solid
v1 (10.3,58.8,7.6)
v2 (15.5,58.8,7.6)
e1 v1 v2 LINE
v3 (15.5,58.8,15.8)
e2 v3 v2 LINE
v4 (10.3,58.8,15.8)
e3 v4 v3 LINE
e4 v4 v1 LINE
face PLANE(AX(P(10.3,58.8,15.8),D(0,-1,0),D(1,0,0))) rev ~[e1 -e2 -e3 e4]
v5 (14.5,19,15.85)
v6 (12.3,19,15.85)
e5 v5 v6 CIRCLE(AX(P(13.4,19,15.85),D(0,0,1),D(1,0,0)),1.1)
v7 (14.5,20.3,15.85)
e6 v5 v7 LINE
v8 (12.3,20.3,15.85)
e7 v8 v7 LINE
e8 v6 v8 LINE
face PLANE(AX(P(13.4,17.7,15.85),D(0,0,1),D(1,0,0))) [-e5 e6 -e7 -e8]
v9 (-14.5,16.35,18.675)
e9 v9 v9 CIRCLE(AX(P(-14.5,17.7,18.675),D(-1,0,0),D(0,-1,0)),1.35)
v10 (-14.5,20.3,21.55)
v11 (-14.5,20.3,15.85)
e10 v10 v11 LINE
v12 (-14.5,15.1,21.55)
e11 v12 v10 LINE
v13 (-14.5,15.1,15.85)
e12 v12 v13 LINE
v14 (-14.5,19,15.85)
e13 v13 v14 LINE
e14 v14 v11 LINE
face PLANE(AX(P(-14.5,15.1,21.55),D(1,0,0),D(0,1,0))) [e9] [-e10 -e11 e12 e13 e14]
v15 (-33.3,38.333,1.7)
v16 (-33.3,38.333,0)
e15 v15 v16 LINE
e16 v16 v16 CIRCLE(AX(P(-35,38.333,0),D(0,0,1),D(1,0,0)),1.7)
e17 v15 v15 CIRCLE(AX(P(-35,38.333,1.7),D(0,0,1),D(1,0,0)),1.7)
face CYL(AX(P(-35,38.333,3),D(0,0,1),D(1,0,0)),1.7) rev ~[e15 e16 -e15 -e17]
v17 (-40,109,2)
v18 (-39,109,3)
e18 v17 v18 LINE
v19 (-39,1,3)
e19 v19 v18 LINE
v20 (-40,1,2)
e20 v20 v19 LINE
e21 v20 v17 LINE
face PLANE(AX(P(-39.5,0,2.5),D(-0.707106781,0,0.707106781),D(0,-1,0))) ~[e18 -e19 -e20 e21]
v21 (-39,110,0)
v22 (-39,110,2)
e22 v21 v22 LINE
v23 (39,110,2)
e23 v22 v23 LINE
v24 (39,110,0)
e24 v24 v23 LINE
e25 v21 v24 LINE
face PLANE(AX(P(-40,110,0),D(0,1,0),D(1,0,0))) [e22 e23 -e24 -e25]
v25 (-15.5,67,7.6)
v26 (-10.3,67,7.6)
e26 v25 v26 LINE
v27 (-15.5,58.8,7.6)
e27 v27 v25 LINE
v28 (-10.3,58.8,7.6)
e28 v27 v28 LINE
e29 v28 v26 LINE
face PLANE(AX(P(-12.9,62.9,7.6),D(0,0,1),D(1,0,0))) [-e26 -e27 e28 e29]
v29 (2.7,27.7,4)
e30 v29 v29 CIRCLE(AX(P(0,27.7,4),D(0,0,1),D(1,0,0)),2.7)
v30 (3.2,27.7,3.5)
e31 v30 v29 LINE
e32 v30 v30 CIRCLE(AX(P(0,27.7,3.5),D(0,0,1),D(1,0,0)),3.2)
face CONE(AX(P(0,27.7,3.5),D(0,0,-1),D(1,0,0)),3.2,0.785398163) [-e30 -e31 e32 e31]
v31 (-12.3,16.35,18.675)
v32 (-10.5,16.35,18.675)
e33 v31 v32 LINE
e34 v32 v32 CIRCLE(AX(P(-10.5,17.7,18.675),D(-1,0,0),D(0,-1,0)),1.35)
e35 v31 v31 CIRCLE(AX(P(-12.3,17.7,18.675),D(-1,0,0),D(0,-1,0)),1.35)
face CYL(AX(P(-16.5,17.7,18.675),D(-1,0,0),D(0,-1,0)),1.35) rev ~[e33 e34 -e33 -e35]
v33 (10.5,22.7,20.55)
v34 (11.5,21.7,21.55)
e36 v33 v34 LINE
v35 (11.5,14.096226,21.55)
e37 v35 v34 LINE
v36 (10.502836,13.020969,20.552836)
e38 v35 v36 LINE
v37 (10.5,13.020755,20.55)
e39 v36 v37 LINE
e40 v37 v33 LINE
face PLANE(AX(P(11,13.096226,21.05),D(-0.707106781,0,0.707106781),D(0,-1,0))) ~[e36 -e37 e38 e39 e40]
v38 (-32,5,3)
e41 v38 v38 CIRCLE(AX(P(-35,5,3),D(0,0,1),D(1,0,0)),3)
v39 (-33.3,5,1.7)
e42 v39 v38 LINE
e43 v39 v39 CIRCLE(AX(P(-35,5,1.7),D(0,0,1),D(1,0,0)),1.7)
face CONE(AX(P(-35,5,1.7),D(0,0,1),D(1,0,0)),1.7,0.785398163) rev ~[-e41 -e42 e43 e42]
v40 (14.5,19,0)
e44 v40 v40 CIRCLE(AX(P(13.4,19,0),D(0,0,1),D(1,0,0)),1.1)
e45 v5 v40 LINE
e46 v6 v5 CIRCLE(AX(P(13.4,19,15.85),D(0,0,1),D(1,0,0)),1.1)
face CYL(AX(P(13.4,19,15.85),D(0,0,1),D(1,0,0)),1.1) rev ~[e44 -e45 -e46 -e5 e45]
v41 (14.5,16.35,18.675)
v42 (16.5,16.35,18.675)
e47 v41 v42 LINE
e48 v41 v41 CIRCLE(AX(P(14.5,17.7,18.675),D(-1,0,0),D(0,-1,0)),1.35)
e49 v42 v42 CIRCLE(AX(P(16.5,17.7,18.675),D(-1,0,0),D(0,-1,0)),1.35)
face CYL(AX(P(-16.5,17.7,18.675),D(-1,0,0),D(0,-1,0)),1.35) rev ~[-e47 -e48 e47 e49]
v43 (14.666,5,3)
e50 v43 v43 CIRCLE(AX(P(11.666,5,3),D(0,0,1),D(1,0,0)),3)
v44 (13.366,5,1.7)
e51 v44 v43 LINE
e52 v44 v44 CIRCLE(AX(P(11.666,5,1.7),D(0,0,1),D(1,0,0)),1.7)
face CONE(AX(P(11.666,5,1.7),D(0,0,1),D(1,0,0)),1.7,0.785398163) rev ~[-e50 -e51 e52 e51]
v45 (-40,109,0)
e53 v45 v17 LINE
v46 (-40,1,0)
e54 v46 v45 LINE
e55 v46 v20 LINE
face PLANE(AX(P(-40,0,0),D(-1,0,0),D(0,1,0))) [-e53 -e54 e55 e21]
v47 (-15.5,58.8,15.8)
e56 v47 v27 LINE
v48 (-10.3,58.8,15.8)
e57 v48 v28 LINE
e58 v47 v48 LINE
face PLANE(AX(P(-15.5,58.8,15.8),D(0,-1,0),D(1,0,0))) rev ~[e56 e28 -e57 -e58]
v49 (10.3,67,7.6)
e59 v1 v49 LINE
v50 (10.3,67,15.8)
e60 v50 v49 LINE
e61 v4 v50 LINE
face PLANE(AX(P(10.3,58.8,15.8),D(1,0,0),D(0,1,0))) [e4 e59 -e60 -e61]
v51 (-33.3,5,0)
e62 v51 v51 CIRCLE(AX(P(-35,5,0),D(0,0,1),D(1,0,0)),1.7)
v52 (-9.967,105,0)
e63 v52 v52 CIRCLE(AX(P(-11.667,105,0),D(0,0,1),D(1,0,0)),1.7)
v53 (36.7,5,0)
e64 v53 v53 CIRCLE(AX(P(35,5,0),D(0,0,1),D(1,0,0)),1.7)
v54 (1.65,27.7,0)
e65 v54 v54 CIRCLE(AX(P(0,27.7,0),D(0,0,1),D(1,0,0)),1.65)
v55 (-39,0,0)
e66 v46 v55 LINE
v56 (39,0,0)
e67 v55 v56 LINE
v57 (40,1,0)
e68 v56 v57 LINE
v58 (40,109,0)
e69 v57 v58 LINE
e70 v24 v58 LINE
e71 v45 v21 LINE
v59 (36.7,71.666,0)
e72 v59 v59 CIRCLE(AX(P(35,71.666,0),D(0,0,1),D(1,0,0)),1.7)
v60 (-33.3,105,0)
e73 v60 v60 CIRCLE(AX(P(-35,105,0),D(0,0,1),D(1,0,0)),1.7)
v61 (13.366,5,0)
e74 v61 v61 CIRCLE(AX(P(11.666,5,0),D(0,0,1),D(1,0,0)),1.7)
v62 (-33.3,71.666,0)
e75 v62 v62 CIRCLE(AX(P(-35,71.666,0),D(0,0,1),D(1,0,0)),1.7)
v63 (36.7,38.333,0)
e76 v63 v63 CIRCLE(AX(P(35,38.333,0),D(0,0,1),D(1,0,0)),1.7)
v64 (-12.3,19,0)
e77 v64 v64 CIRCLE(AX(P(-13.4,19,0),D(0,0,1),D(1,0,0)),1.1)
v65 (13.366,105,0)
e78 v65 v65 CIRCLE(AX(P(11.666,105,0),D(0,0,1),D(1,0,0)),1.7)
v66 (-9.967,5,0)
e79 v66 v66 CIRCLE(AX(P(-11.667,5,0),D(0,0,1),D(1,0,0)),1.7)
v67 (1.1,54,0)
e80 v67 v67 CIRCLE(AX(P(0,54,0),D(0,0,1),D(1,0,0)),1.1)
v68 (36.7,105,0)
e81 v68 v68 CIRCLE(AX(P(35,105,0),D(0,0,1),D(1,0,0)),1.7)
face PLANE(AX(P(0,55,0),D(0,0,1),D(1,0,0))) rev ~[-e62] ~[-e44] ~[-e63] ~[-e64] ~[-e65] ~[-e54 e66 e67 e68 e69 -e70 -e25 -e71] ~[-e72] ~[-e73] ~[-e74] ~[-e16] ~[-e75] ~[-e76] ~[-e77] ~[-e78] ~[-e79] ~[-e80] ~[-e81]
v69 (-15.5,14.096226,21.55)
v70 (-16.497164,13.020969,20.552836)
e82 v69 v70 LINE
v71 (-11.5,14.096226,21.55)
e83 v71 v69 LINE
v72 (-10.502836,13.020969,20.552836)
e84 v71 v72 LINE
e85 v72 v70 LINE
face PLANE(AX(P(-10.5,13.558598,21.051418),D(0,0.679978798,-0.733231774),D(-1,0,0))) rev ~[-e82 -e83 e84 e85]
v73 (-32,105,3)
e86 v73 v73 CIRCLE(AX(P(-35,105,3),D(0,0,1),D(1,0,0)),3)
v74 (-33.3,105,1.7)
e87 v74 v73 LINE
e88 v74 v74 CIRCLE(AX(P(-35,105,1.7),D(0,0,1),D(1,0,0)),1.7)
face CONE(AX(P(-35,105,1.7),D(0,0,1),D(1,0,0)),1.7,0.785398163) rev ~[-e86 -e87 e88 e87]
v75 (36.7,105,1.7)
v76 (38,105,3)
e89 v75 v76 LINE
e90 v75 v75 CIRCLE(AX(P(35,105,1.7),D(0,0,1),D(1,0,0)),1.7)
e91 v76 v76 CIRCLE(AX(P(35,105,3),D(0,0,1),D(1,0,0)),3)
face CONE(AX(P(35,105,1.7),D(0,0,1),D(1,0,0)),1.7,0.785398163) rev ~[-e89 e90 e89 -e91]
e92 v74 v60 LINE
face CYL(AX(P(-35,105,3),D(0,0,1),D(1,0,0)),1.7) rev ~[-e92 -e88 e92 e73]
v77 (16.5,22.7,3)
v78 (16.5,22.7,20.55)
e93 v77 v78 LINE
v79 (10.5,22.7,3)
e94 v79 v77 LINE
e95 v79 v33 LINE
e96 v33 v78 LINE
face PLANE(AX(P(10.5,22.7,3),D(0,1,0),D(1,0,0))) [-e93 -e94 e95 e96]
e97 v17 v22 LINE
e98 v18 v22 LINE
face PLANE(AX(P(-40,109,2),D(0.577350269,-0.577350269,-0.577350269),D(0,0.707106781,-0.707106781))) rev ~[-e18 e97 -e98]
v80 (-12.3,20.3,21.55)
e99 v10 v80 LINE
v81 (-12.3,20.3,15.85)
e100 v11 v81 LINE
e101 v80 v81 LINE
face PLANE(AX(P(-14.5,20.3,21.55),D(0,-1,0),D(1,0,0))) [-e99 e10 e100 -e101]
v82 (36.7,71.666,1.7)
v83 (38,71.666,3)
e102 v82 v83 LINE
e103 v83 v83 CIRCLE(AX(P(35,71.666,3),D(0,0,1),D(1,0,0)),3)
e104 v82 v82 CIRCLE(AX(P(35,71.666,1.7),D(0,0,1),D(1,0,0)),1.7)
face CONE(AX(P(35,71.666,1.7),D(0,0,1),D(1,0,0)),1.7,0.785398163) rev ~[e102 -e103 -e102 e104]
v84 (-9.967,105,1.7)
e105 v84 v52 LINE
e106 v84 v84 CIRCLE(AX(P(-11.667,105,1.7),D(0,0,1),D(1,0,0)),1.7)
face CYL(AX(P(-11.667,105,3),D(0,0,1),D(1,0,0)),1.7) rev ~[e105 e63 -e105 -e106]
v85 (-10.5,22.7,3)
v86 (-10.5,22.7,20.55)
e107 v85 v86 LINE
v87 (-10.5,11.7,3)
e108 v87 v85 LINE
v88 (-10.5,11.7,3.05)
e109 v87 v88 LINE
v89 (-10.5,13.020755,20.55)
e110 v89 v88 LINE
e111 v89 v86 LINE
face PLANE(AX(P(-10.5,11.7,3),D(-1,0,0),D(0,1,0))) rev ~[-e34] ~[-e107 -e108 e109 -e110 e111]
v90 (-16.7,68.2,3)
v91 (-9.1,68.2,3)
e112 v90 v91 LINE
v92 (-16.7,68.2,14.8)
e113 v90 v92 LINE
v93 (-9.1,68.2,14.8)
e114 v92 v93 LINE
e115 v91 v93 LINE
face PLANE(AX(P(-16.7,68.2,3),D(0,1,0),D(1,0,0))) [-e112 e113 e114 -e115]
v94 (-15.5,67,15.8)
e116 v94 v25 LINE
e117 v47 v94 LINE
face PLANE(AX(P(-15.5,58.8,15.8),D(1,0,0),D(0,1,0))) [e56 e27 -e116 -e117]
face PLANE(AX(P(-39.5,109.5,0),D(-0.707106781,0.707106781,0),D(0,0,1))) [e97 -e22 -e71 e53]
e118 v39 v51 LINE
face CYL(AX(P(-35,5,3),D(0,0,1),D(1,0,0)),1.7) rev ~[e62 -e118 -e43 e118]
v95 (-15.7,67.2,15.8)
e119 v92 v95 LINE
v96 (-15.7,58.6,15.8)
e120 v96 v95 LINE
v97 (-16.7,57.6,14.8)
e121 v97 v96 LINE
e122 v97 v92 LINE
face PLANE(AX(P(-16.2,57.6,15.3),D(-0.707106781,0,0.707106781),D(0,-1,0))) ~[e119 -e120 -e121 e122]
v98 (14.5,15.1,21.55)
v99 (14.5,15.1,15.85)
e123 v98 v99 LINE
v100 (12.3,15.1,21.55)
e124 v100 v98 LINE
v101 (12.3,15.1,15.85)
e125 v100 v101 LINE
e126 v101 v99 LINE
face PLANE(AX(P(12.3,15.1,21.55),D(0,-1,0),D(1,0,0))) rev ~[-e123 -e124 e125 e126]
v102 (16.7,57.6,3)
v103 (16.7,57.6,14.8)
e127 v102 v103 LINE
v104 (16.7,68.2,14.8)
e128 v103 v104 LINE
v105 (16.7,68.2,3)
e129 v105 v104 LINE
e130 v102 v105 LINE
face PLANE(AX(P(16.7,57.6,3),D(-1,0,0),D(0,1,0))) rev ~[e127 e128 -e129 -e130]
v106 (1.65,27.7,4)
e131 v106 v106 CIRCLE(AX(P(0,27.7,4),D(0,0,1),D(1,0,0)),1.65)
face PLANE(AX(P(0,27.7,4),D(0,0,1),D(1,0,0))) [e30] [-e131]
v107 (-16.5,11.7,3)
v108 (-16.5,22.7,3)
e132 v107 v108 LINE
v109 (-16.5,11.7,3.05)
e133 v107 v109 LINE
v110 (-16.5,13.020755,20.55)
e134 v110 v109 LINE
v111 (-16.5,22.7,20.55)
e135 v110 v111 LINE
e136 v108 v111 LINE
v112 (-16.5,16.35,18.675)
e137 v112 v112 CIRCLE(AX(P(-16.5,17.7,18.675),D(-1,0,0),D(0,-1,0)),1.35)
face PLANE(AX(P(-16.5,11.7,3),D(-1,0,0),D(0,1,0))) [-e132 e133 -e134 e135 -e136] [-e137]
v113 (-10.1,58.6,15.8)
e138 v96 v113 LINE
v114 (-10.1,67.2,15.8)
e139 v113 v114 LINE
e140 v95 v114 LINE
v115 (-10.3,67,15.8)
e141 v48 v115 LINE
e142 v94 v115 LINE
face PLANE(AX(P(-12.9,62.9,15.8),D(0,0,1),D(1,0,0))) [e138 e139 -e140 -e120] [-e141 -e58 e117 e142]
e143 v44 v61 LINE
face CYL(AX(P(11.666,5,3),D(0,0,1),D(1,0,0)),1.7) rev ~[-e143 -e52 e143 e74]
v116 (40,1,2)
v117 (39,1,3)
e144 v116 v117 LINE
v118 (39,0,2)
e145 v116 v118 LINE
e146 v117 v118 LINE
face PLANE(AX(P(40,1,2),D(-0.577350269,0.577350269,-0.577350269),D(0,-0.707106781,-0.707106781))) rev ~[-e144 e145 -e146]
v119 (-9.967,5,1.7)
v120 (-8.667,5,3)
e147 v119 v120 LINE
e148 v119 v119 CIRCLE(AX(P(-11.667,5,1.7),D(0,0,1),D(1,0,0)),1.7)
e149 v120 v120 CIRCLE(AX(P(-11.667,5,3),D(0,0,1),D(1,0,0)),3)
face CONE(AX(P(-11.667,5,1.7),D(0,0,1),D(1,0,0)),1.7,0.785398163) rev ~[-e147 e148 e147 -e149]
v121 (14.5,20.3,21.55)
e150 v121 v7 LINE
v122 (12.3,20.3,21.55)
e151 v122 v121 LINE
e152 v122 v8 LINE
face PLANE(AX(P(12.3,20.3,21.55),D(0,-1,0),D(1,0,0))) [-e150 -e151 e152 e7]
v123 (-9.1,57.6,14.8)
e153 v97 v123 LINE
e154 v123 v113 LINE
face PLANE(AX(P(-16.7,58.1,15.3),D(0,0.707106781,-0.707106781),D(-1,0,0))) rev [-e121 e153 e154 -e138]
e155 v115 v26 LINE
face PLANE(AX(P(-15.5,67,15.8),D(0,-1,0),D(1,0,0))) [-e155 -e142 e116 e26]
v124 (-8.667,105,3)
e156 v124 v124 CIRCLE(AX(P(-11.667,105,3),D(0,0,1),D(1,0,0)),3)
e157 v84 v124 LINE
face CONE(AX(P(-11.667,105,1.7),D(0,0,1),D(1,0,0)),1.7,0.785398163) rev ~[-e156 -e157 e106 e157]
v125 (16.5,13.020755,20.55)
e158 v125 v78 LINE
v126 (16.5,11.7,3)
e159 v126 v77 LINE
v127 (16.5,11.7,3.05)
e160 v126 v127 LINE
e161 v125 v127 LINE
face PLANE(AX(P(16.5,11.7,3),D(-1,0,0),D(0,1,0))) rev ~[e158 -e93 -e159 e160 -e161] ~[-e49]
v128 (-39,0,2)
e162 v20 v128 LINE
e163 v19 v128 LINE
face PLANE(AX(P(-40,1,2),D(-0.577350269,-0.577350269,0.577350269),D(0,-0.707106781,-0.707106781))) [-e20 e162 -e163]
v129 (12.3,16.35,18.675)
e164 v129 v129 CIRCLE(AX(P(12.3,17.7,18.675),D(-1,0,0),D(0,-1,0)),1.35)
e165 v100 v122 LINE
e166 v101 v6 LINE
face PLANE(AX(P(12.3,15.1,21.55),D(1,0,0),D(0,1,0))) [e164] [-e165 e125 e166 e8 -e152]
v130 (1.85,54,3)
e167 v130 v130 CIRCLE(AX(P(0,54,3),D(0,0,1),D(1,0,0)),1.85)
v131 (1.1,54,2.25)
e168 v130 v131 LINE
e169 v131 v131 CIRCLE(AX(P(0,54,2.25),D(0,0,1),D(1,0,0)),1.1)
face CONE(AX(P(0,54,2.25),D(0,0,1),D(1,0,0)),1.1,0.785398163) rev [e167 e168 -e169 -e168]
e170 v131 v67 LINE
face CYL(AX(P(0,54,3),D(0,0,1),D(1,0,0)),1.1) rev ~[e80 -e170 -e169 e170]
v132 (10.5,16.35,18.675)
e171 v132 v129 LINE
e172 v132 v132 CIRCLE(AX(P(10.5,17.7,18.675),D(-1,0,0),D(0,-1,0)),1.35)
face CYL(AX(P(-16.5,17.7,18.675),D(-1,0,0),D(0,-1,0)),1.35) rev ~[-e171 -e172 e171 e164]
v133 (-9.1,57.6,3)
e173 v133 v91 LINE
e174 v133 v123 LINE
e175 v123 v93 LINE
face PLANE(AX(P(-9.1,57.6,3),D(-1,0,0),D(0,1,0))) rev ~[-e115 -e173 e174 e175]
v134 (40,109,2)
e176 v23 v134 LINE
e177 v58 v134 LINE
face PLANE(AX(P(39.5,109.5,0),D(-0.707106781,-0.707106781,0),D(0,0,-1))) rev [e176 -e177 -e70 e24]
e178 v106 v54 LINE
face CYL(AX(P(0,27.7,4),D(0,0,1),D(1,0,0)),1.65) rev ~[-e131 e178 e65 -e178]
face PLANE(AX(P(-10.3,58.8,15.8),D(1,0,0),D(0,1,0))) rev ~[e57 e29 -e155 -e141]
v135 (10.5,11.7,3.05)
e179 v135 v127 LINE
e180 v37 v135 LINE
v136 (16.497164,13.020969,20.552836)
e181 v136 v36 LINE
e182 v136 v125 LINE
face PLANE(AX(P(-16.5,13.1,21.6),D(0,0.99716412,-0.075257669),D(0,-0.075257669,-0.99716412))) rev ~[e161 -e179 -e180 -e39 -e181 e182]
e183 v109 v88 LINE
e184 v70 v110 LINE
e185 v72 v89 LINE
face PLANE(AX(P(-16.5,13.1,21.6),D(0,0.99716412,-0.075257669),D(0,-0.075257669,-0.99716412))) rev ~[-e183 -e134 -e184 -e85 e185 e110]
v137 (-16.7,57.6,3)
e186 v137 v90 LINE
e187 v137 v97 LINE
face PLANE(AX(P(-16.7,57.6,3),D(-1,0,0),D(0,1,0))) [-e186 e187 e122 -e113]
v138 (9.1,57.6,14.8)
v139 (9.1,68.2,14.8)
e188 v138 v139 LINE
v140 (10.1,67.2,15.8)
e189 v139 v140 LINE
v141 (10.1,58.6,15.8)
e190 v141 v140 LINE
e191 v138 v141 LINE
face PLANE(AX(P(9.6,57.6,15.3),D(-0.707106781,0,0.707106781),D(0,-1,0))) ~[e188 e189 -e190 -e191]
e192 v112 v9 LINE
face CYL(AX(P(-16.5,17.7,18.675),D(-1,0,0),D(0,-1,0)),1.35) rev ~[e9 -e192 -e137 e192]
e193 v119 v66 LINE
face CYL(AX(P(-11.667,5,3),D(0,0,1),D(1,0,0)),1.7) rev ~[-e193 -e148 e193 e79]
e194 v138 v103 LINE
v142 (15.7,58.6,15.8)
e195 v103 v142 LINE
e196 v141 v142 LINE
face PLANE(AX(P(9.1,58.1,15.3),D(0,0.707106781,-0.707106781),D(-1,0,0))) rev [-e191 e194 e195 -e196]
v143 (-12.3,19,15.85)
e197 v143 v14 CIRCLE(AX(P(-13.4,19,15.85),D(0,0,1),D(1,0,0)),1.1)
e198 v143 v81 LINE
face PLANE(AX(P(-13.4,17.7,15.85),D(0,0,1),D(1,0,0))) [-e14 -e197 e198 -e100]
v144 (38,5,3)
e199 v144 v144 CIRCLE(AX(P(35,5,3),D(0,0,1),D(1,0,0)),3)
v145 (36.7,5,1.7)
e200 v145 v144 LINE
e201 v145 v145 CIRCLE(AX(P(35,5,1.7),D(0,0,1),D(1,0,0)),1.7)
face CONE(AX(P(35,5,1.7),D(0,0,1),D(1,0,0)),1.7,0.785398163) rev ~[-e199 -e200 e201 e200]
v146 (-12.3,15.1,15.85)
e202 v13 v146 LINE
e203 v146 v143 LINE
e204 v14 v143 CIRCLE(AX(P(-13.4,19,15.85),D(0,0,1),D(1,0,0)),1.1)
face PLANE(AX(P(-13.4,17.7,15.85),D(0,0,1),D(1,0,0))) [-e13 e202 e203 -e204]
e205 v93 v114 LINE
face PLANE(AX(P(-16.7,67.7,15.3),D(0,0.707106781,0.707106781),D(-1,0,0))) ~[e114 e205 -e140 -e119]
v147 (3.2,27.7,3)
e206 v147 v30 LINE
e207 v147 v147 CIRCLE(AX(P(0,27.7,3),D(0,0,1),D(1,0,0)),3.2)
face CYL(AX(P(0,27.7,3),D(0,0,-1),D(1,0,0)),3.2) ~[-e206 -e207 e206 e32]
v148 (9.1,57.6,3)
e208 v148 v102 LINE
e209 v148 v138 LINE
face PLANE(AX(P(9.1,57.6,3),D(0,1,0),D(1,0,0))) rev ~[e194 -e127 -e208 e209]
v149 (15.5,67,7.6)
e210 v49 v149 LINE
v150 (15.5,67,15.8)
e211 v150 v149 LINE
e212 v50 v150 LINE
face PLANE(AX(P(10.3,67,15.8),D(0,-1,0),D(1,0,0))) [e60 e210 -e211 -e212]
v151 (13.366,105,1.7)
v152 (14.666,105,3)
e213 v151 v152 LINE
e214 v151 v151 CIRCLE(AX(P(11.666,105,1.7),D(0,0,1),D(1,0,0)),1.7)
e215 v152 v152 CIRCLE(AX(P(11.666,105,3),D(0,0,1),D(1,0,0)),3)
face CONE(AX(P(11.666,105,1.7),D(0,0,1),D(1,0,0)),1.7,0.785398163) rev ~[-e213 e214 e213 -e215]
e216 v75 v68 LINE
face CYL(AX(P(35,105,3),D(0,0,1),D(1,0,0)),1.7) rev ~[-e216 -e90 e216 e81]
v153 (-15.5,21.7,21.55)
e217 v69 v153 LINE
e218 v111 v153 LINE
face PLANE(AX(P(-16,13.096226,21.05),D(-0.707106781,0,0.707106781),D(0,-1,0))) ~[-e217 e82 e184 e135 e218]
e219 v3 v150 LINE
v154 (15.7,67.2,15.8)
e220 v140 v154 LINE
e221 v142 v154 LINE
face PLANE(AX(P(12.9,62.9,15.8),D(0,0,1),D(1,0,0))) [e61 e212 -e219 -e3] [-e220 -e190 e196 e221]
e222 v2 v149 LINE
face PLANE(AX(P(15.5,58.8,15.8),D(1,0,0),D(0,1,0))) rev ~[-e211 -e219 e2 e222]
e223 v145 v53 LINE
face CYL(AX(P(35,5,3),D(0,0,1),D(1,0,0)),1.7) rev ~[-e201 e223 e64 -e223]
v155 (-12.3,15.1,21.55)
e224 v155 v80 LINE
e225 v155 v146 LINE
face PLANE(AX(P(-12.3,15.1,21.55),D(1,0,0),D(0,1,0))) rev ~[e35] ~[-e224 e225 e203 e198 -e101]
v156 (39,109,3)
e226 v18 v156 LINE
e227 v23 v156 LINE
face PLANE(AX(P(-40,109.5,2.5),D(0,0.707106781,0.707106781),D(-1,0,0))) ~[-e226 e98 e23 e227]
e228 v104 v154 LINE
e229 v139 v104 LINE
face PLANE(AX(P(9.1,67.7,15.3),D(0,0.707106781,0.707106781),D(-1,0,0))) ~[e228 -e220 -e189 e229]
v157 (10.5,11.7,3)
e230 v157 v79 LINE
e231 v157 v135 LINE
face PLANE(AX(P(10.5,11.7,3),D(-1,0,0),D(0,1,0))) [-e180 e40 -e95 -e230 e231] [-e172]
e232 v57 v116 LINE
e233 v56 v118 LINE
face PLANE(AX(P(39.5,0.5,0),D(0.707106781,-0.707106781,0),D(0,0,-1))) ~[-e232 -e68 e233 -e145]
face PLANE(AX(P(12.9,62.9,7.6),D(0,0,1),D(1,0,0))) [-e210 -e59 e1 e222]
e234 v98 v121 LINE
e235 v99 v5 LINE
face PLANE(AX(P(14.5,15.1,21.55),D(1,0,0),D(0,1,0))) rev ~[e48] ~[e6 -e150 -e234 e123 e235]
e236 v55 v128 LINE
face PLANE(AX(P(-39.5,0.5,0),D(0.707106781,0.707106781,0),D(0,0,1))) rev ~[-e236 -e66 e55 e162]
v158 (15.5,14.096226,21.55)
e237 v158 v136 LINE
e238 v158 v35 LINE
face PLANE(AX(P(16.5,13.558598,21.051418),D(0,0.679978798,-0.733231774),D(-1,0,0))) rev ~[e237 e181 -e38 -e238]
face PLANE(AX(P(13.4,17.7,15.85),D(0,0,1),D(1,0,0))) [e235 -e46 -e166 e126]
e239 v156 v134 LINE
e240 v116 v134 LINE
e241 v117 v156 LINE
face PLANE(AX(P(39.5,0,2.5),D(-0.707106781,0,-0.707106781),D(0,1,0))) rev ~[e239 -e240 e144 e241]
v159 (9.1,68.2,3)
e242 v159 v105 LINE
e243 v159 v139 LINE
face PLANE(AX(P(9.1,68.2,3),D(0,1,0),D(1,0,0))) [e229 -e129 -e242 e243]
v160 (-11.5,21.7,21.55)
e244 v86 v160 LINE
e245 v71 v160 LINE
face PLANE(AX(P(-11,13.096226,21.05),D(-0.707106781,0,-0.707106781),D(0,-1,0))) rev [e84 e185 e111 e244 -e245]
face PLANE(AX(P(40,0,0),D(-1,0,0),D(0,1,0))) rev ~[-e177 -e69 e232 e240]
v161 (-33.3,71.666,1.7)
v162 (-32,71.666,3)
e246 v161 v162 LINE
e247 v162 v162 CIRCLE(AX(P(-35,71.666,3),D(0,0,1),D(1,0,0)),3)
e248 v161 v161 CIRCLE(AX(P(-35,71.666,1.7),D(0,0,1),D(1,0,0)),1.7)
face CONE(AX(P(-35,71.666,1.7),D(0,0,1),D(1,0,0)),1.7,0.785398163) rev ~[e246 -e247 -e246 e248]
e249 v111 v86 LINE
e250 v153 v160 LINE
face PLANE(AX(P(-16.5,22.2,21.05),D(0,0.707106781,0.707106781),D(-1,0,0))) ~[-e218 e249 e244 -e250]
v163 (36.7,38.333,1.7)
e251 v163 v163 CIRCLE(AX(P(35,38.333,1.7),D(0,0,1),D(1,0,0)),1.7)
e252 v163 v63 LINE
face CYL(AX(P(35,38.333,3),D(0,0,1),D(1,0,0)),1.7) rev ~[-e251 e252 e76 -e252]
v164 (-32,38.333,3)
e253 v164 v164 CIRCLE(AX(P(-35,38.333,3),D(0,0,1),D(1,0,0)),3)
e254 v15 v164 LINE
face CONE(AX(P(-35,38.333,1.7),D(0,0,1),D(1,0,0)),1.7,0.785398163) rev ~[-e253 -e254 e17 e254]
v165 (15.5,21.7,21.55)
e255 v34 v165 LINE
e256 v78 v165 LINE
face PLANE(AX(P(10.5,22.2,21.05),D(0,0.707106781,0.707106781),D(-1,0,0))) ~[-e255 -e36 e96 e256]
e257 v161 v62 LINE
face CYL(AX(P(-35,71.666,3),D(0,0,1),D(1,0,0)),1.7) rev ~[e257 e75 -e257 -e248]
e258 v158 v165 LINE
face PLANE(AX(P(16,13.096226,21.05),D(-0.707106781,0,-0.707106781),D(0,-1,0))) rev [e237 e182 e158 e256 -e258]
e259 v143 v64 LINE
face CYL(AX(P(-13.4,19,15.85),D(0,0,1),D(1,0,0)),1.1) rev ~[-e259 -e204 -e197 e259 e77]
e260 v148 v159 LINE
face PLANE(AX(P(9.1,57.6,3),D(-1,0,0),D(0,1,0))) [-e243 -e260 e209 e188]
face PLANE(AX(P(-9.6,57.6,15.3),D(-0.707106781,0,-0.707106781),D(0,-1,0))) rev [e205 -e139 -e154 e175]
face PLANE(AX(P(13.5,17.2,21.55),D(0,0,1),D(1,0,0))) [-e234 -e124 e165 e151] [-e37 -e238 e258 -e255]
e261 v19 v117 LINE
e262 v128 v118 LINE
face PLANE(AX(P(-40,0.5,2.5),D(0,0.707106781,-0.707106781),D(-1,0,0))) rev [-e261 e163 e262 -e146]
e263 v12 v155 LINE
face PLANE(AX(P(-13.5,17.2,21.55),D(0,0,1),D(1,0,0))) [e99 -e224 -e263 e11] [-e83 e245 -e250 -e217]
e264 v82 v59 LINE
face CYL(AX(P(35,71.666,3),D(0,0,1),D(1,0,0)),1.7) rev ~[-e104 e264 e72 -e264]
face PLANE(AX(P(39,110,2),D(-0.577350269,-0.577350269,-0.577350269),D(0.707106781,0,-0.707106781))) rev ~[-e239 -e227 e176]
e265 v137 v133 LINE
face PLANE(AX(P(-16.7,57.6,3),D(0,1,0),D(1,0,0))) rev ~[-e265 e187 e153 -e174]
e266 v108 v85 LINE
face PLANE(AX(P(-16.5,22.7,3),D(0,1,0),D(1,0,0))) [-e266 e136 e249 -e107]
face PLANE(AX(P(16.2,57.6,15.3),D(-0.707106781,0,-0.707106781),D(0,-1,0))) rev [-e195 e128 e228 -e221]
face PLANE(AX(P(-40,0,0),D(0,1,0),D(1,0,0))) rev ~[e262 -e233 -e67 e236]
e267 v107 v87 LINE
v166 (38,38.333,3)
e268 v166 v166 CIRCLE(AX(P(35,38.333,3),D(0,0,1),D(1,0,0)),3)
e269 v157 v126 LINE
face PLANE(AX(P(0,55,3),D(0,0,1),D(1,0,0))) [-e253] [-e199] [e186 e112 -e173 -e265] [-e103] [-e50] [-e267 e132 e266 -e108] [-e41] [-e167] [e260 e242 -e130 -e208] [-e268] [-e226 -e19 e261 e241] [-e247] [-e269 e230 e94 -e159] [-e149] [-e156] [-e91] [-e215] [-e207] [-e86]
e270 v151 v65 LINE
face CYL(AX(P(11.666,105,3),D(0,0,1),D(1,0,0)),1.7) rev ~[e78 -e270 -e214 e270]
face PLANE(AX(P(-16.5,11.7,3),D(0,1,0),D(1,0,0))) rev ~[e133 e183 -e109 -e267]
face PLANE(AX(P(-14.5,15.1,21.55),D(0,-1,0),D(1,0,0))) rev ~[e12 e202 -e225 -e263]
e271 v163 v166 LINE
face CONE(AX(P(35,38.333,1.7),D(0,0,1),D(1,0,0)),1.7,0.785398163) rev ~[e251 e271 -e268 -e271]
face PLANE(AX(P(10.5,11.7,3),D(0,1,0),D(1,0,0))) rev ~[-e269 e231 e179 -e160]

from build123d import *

# Parameters (mm, degrees)
SKETCH014_W     = 80
SKETCH014_H     = 110
PAD004_DEPTH    = 3
SKETCH015_R     = 3.2
PAD005_DEPTH    = 1
SKETCH016_R     = 1.65
POCKET010_DEPTH = 4.001
SKETCH017_W     = 7.6
SKETCH017_H     = 10.6
PAD006_DEPTH    = 12.8
SKETCH018_W     = 5.2
SKETCH018_H     = 8.2
POCKET011_DEPTH = 8.2
SKETCH019_R     = 1.1
SKETCH019_R_2   = 1.7
POCKET012_DEPTH = 3.001
SKETCH020_W     = 6
SKETCH020_H     = 11
PAD007_DEPTH    = 18.55
SKETCH021_R     = 1.35
POCKET013_DEPTH = 56.501
SKETCH022_W     = 2.2
SKETCH022_H     = 5.2
POCKET014_DEPTH = 5.7
SKETCH023_R     = 1.1
POCKET015_DEPTH = 15.851
CHAMFER_SIZE    = 1
CHAMFER001_SIZE = 1.3
CHAMFER002_SIZE = 1
CHAMFER003_SIZE = 0.75
CHAMFER004_SIZE = 0.5


with BuildPart() as part:
    # Sketch014 → Pad004 (new body)
    with BuildSketch(Plane.XY):
        with Locations((0, 55)):
            Rectangle(SKETCH014_W, SKETCH014_H)
    extrude(amount=PAD004_DEPTH)

    # Sketch015 (on Face6 of Pad004) → Pad005 (join)
    with BuildSketch(Plane.XY.offset(3)):
        with Locations((0, 27.7)):
            Circle(SKETCH015_R)
    extrude(amount=PAD005_DEPTH)

    # Sketch016 (on Face8 of Pad005) → Pocket010 (cut, through all)
    with BuildSketch(Plane.XY.offset(4)):
        with Locations((0, 27.7)):
            Circle(SKETCH016_R)
    extrude(amount=-POCKET010_DEPTH, mode=Mode.SUBTRACT)

    # Sketch017 (on Face5 of Pocket010) → Pad006 (join)
    with BuildSketch(Plane.XY.offset(3)):
        with Locations((-12.9, 62.9)):
            Rectangle(SKETCH017_W, SKETCH017_H)
        with Locations((12.9, 62.9)):
            Rectangle(SKETCH017_W, SKETCH017_H)
    extrude(amount=PAD006_DEPTH)

    # Sketch018 (on Face18 of Pad006) → Pocket011 (cut)
    with BuildSketch(Plane.XY.offset(15.8)):
        with Locations((-12.9, 62.9)):
            Rectangle(SKETCH018_W, SKETCH018_H)
        with Locations((12.9, 62.9)):
            Rectangle(SKETCH018_W, SKETCH018_H)
    extrude(amount=-POCKET011_DEPTH, mode=Mode.SUBTRACT)

    # Sketch019 (on Face5 of Pocket011) → Pocket012 (cut, through all)
    with BuildSketch(Plane.XY.offset(3)):
        with Locations((0, 54)):
            Circle(SKETCH019_R)
        with Locations((-11.667, 5)):
            Circle(SKETCH019_R_2)
        with Locations((11.666, 5)):
            Circle(SKETCH019_R_2)
        with Locations((35, 5)):
            Circle(SKETCH019_R_2)
        with Locations((-35, 38.333)):
            Circle(SKETCH019_R_2)
        with Locations((-35, 71.666)):
            Circle(SKETCH019_R_2)
        with Locations((-35, 105)):
            Circle(SKETCH019_R_2)
        with Locations((35, 38.333)):
            Circle(SKETCH019_R_2)
        with Locations((35, 71.666)):
            Circle(SKETCH019_R_2)
        with Locations((35, 105)):
            Circle(SKETCH019_R_2)
        with Locations((-11.667, 105)):
            Circle(SKETCH019_R_2)
        with Locations((11.666, 105)):
            Circle(SKETCH019_R_2)
        with Locations((-35, 5)):
            Circle(SKETCH019_R_2)
    extrude(amount=-POCKET012_DEPTH, mode=Mode.SUBTRACT)

    # Sketch020 (on Face5 of Pocket012) → Pad007 (join)
    with BuildSketch(Plane.XY.offset(3)):
        with Locations((13.5, 17.2)):
            Rectangle(SKETCH020_W, SKETCH020_H)
        with Locations((-13.5, 17.2)):
            Rectangle(SKETCH020_W, SKETCH020_H)
    extrude(amount=PAD007_DEPTH)

    # Sketch021 (on Face22 of Pad007) → Pocket013 (cut, through all)
    with BuildSketch(Plane(origin=(-16.5, 0, 0), x_dir=(0, -1, 0), z_dir=(-1, 0, 0))):
        with Locations((-17.7, 18.675)):
            Circle(SKETCH021_R)
        Polygon((-11.7, 3.05), (-11.7, 21.6), (-13.1, 21.6), align=None)
    extrude(amount=-POCKET013_DEPTH, mode=Mode.SUBTRACT)

    # Sketch022 (on Face39 of Pocket013) → Pocket014 (cut)
    with BuildSketch(Plane.XY.offset(21.55)):
        with Locations((-13.4, 17.7)):
            Rectangle(SKETCH022_W, SKETCH022_H)
        with Locations((13.4, 17.7)):
            Rectangle(SKETCH022_W, SKETCH022_H)
    extrude(amount=-POCKET014_DEPTH, mode=Mode.SUBTRACT)

    # Sketch023 (on Face65 of Pocket014) → Pocket015 (cut, through all)
    with BuildSketch(Plane.XY.offset(15.85)):
        with Locations((13.4, 19)):
            Circle(SKETCH023_R)
        with Locations((-13.4, 19)):
            Circle(SKETCH023_R)
    extrude(amount=-POCKET015_DEPTH, mode=Mode.SUBTRACT)

    # Chamfer
    chamfer_edges = [part.edges().sort_by_distance(p)[0] for p in [
        (0, 0, 3),
        (40, 55, 3),
        (0, 110, 3),
        (-40, 55, 3),
        (-40, 0, 1.5),
        (40, 0, 1.5),
        (-40, 110, 1.5),
        (40, 110, 1.5),
    ]]
    chamfer(chamfer_edges, length=CHAMFER_SIZE)

    # Chamfer001
    chamfer001_edges = [part.edges().sort_by_distance(p)[0] for p in [
        (33.3, 5, 3),
        (33.3, 38.333, 3),
        (33.3, 71.666, 3),
        (33.3, 105, 3),
        (9.966, 105, 3),
        (-13.367, 105, 3),
        (-36.7, 105, 3),
        (-36.7, 71.666, 3),
        (-36.7, 38.333, 3),
        (-36.7, 5, 3),
        (-13.367, 5, 3),
        (9.966, 5, 3),
    ]]
    chamfer(chamfer001_edges, length=CHAMFER001_SIZE)

    # Chamfer002
    chamfer002_edges = [part.edges().sort_by_distance(p)[0] for p in [
        (-16.5, 17.898113, 21.55),
        (-13.5, 13.096226, 21.55),
        (-10.5, 17.898113, 21.55),
        (-13.5, 22.7, 21.55),
        (10.5, 17.898113, 21.55),
        (13.5, 13.096226, 21.55),
        (16.5, 17.898113, 21.55),
        (13.5, 22.7, 21.55),
        (16.7, 62.9, 15.8),
        (12.9, 68.2, 15.8),
        (9.1, 62.9, 15.8),
        (12.9, 57.6, 15.8),
        (-9.1, 62.9, 15.8),
        (-12.9, 68.2, 15.8),
        (-16.7, 62.9, 15.8),
        (-12.9, 57.6, 15.8),
    ]]
    chamfer(chamfer002_edges, length=CHAMFER002_SIZE)

    # Chamfer003
    chamfer003_edges = [part.edges().sort_by_distance(p)[0] for p in [
        (-1.1, 54, 3),
    ]]
    chamfer(chamfer003_edges, length=CHAMFER003_SIZE)

    # Chamfer004
    chamfer004_edges = [part.edges().sort_by_distance(p)[0] for p in [
        (-3.2, 27.7, 4),
    ]]
    chamfer(chamfer004_edges, length=CHAMFER004_SIZE)


solid = part.part
